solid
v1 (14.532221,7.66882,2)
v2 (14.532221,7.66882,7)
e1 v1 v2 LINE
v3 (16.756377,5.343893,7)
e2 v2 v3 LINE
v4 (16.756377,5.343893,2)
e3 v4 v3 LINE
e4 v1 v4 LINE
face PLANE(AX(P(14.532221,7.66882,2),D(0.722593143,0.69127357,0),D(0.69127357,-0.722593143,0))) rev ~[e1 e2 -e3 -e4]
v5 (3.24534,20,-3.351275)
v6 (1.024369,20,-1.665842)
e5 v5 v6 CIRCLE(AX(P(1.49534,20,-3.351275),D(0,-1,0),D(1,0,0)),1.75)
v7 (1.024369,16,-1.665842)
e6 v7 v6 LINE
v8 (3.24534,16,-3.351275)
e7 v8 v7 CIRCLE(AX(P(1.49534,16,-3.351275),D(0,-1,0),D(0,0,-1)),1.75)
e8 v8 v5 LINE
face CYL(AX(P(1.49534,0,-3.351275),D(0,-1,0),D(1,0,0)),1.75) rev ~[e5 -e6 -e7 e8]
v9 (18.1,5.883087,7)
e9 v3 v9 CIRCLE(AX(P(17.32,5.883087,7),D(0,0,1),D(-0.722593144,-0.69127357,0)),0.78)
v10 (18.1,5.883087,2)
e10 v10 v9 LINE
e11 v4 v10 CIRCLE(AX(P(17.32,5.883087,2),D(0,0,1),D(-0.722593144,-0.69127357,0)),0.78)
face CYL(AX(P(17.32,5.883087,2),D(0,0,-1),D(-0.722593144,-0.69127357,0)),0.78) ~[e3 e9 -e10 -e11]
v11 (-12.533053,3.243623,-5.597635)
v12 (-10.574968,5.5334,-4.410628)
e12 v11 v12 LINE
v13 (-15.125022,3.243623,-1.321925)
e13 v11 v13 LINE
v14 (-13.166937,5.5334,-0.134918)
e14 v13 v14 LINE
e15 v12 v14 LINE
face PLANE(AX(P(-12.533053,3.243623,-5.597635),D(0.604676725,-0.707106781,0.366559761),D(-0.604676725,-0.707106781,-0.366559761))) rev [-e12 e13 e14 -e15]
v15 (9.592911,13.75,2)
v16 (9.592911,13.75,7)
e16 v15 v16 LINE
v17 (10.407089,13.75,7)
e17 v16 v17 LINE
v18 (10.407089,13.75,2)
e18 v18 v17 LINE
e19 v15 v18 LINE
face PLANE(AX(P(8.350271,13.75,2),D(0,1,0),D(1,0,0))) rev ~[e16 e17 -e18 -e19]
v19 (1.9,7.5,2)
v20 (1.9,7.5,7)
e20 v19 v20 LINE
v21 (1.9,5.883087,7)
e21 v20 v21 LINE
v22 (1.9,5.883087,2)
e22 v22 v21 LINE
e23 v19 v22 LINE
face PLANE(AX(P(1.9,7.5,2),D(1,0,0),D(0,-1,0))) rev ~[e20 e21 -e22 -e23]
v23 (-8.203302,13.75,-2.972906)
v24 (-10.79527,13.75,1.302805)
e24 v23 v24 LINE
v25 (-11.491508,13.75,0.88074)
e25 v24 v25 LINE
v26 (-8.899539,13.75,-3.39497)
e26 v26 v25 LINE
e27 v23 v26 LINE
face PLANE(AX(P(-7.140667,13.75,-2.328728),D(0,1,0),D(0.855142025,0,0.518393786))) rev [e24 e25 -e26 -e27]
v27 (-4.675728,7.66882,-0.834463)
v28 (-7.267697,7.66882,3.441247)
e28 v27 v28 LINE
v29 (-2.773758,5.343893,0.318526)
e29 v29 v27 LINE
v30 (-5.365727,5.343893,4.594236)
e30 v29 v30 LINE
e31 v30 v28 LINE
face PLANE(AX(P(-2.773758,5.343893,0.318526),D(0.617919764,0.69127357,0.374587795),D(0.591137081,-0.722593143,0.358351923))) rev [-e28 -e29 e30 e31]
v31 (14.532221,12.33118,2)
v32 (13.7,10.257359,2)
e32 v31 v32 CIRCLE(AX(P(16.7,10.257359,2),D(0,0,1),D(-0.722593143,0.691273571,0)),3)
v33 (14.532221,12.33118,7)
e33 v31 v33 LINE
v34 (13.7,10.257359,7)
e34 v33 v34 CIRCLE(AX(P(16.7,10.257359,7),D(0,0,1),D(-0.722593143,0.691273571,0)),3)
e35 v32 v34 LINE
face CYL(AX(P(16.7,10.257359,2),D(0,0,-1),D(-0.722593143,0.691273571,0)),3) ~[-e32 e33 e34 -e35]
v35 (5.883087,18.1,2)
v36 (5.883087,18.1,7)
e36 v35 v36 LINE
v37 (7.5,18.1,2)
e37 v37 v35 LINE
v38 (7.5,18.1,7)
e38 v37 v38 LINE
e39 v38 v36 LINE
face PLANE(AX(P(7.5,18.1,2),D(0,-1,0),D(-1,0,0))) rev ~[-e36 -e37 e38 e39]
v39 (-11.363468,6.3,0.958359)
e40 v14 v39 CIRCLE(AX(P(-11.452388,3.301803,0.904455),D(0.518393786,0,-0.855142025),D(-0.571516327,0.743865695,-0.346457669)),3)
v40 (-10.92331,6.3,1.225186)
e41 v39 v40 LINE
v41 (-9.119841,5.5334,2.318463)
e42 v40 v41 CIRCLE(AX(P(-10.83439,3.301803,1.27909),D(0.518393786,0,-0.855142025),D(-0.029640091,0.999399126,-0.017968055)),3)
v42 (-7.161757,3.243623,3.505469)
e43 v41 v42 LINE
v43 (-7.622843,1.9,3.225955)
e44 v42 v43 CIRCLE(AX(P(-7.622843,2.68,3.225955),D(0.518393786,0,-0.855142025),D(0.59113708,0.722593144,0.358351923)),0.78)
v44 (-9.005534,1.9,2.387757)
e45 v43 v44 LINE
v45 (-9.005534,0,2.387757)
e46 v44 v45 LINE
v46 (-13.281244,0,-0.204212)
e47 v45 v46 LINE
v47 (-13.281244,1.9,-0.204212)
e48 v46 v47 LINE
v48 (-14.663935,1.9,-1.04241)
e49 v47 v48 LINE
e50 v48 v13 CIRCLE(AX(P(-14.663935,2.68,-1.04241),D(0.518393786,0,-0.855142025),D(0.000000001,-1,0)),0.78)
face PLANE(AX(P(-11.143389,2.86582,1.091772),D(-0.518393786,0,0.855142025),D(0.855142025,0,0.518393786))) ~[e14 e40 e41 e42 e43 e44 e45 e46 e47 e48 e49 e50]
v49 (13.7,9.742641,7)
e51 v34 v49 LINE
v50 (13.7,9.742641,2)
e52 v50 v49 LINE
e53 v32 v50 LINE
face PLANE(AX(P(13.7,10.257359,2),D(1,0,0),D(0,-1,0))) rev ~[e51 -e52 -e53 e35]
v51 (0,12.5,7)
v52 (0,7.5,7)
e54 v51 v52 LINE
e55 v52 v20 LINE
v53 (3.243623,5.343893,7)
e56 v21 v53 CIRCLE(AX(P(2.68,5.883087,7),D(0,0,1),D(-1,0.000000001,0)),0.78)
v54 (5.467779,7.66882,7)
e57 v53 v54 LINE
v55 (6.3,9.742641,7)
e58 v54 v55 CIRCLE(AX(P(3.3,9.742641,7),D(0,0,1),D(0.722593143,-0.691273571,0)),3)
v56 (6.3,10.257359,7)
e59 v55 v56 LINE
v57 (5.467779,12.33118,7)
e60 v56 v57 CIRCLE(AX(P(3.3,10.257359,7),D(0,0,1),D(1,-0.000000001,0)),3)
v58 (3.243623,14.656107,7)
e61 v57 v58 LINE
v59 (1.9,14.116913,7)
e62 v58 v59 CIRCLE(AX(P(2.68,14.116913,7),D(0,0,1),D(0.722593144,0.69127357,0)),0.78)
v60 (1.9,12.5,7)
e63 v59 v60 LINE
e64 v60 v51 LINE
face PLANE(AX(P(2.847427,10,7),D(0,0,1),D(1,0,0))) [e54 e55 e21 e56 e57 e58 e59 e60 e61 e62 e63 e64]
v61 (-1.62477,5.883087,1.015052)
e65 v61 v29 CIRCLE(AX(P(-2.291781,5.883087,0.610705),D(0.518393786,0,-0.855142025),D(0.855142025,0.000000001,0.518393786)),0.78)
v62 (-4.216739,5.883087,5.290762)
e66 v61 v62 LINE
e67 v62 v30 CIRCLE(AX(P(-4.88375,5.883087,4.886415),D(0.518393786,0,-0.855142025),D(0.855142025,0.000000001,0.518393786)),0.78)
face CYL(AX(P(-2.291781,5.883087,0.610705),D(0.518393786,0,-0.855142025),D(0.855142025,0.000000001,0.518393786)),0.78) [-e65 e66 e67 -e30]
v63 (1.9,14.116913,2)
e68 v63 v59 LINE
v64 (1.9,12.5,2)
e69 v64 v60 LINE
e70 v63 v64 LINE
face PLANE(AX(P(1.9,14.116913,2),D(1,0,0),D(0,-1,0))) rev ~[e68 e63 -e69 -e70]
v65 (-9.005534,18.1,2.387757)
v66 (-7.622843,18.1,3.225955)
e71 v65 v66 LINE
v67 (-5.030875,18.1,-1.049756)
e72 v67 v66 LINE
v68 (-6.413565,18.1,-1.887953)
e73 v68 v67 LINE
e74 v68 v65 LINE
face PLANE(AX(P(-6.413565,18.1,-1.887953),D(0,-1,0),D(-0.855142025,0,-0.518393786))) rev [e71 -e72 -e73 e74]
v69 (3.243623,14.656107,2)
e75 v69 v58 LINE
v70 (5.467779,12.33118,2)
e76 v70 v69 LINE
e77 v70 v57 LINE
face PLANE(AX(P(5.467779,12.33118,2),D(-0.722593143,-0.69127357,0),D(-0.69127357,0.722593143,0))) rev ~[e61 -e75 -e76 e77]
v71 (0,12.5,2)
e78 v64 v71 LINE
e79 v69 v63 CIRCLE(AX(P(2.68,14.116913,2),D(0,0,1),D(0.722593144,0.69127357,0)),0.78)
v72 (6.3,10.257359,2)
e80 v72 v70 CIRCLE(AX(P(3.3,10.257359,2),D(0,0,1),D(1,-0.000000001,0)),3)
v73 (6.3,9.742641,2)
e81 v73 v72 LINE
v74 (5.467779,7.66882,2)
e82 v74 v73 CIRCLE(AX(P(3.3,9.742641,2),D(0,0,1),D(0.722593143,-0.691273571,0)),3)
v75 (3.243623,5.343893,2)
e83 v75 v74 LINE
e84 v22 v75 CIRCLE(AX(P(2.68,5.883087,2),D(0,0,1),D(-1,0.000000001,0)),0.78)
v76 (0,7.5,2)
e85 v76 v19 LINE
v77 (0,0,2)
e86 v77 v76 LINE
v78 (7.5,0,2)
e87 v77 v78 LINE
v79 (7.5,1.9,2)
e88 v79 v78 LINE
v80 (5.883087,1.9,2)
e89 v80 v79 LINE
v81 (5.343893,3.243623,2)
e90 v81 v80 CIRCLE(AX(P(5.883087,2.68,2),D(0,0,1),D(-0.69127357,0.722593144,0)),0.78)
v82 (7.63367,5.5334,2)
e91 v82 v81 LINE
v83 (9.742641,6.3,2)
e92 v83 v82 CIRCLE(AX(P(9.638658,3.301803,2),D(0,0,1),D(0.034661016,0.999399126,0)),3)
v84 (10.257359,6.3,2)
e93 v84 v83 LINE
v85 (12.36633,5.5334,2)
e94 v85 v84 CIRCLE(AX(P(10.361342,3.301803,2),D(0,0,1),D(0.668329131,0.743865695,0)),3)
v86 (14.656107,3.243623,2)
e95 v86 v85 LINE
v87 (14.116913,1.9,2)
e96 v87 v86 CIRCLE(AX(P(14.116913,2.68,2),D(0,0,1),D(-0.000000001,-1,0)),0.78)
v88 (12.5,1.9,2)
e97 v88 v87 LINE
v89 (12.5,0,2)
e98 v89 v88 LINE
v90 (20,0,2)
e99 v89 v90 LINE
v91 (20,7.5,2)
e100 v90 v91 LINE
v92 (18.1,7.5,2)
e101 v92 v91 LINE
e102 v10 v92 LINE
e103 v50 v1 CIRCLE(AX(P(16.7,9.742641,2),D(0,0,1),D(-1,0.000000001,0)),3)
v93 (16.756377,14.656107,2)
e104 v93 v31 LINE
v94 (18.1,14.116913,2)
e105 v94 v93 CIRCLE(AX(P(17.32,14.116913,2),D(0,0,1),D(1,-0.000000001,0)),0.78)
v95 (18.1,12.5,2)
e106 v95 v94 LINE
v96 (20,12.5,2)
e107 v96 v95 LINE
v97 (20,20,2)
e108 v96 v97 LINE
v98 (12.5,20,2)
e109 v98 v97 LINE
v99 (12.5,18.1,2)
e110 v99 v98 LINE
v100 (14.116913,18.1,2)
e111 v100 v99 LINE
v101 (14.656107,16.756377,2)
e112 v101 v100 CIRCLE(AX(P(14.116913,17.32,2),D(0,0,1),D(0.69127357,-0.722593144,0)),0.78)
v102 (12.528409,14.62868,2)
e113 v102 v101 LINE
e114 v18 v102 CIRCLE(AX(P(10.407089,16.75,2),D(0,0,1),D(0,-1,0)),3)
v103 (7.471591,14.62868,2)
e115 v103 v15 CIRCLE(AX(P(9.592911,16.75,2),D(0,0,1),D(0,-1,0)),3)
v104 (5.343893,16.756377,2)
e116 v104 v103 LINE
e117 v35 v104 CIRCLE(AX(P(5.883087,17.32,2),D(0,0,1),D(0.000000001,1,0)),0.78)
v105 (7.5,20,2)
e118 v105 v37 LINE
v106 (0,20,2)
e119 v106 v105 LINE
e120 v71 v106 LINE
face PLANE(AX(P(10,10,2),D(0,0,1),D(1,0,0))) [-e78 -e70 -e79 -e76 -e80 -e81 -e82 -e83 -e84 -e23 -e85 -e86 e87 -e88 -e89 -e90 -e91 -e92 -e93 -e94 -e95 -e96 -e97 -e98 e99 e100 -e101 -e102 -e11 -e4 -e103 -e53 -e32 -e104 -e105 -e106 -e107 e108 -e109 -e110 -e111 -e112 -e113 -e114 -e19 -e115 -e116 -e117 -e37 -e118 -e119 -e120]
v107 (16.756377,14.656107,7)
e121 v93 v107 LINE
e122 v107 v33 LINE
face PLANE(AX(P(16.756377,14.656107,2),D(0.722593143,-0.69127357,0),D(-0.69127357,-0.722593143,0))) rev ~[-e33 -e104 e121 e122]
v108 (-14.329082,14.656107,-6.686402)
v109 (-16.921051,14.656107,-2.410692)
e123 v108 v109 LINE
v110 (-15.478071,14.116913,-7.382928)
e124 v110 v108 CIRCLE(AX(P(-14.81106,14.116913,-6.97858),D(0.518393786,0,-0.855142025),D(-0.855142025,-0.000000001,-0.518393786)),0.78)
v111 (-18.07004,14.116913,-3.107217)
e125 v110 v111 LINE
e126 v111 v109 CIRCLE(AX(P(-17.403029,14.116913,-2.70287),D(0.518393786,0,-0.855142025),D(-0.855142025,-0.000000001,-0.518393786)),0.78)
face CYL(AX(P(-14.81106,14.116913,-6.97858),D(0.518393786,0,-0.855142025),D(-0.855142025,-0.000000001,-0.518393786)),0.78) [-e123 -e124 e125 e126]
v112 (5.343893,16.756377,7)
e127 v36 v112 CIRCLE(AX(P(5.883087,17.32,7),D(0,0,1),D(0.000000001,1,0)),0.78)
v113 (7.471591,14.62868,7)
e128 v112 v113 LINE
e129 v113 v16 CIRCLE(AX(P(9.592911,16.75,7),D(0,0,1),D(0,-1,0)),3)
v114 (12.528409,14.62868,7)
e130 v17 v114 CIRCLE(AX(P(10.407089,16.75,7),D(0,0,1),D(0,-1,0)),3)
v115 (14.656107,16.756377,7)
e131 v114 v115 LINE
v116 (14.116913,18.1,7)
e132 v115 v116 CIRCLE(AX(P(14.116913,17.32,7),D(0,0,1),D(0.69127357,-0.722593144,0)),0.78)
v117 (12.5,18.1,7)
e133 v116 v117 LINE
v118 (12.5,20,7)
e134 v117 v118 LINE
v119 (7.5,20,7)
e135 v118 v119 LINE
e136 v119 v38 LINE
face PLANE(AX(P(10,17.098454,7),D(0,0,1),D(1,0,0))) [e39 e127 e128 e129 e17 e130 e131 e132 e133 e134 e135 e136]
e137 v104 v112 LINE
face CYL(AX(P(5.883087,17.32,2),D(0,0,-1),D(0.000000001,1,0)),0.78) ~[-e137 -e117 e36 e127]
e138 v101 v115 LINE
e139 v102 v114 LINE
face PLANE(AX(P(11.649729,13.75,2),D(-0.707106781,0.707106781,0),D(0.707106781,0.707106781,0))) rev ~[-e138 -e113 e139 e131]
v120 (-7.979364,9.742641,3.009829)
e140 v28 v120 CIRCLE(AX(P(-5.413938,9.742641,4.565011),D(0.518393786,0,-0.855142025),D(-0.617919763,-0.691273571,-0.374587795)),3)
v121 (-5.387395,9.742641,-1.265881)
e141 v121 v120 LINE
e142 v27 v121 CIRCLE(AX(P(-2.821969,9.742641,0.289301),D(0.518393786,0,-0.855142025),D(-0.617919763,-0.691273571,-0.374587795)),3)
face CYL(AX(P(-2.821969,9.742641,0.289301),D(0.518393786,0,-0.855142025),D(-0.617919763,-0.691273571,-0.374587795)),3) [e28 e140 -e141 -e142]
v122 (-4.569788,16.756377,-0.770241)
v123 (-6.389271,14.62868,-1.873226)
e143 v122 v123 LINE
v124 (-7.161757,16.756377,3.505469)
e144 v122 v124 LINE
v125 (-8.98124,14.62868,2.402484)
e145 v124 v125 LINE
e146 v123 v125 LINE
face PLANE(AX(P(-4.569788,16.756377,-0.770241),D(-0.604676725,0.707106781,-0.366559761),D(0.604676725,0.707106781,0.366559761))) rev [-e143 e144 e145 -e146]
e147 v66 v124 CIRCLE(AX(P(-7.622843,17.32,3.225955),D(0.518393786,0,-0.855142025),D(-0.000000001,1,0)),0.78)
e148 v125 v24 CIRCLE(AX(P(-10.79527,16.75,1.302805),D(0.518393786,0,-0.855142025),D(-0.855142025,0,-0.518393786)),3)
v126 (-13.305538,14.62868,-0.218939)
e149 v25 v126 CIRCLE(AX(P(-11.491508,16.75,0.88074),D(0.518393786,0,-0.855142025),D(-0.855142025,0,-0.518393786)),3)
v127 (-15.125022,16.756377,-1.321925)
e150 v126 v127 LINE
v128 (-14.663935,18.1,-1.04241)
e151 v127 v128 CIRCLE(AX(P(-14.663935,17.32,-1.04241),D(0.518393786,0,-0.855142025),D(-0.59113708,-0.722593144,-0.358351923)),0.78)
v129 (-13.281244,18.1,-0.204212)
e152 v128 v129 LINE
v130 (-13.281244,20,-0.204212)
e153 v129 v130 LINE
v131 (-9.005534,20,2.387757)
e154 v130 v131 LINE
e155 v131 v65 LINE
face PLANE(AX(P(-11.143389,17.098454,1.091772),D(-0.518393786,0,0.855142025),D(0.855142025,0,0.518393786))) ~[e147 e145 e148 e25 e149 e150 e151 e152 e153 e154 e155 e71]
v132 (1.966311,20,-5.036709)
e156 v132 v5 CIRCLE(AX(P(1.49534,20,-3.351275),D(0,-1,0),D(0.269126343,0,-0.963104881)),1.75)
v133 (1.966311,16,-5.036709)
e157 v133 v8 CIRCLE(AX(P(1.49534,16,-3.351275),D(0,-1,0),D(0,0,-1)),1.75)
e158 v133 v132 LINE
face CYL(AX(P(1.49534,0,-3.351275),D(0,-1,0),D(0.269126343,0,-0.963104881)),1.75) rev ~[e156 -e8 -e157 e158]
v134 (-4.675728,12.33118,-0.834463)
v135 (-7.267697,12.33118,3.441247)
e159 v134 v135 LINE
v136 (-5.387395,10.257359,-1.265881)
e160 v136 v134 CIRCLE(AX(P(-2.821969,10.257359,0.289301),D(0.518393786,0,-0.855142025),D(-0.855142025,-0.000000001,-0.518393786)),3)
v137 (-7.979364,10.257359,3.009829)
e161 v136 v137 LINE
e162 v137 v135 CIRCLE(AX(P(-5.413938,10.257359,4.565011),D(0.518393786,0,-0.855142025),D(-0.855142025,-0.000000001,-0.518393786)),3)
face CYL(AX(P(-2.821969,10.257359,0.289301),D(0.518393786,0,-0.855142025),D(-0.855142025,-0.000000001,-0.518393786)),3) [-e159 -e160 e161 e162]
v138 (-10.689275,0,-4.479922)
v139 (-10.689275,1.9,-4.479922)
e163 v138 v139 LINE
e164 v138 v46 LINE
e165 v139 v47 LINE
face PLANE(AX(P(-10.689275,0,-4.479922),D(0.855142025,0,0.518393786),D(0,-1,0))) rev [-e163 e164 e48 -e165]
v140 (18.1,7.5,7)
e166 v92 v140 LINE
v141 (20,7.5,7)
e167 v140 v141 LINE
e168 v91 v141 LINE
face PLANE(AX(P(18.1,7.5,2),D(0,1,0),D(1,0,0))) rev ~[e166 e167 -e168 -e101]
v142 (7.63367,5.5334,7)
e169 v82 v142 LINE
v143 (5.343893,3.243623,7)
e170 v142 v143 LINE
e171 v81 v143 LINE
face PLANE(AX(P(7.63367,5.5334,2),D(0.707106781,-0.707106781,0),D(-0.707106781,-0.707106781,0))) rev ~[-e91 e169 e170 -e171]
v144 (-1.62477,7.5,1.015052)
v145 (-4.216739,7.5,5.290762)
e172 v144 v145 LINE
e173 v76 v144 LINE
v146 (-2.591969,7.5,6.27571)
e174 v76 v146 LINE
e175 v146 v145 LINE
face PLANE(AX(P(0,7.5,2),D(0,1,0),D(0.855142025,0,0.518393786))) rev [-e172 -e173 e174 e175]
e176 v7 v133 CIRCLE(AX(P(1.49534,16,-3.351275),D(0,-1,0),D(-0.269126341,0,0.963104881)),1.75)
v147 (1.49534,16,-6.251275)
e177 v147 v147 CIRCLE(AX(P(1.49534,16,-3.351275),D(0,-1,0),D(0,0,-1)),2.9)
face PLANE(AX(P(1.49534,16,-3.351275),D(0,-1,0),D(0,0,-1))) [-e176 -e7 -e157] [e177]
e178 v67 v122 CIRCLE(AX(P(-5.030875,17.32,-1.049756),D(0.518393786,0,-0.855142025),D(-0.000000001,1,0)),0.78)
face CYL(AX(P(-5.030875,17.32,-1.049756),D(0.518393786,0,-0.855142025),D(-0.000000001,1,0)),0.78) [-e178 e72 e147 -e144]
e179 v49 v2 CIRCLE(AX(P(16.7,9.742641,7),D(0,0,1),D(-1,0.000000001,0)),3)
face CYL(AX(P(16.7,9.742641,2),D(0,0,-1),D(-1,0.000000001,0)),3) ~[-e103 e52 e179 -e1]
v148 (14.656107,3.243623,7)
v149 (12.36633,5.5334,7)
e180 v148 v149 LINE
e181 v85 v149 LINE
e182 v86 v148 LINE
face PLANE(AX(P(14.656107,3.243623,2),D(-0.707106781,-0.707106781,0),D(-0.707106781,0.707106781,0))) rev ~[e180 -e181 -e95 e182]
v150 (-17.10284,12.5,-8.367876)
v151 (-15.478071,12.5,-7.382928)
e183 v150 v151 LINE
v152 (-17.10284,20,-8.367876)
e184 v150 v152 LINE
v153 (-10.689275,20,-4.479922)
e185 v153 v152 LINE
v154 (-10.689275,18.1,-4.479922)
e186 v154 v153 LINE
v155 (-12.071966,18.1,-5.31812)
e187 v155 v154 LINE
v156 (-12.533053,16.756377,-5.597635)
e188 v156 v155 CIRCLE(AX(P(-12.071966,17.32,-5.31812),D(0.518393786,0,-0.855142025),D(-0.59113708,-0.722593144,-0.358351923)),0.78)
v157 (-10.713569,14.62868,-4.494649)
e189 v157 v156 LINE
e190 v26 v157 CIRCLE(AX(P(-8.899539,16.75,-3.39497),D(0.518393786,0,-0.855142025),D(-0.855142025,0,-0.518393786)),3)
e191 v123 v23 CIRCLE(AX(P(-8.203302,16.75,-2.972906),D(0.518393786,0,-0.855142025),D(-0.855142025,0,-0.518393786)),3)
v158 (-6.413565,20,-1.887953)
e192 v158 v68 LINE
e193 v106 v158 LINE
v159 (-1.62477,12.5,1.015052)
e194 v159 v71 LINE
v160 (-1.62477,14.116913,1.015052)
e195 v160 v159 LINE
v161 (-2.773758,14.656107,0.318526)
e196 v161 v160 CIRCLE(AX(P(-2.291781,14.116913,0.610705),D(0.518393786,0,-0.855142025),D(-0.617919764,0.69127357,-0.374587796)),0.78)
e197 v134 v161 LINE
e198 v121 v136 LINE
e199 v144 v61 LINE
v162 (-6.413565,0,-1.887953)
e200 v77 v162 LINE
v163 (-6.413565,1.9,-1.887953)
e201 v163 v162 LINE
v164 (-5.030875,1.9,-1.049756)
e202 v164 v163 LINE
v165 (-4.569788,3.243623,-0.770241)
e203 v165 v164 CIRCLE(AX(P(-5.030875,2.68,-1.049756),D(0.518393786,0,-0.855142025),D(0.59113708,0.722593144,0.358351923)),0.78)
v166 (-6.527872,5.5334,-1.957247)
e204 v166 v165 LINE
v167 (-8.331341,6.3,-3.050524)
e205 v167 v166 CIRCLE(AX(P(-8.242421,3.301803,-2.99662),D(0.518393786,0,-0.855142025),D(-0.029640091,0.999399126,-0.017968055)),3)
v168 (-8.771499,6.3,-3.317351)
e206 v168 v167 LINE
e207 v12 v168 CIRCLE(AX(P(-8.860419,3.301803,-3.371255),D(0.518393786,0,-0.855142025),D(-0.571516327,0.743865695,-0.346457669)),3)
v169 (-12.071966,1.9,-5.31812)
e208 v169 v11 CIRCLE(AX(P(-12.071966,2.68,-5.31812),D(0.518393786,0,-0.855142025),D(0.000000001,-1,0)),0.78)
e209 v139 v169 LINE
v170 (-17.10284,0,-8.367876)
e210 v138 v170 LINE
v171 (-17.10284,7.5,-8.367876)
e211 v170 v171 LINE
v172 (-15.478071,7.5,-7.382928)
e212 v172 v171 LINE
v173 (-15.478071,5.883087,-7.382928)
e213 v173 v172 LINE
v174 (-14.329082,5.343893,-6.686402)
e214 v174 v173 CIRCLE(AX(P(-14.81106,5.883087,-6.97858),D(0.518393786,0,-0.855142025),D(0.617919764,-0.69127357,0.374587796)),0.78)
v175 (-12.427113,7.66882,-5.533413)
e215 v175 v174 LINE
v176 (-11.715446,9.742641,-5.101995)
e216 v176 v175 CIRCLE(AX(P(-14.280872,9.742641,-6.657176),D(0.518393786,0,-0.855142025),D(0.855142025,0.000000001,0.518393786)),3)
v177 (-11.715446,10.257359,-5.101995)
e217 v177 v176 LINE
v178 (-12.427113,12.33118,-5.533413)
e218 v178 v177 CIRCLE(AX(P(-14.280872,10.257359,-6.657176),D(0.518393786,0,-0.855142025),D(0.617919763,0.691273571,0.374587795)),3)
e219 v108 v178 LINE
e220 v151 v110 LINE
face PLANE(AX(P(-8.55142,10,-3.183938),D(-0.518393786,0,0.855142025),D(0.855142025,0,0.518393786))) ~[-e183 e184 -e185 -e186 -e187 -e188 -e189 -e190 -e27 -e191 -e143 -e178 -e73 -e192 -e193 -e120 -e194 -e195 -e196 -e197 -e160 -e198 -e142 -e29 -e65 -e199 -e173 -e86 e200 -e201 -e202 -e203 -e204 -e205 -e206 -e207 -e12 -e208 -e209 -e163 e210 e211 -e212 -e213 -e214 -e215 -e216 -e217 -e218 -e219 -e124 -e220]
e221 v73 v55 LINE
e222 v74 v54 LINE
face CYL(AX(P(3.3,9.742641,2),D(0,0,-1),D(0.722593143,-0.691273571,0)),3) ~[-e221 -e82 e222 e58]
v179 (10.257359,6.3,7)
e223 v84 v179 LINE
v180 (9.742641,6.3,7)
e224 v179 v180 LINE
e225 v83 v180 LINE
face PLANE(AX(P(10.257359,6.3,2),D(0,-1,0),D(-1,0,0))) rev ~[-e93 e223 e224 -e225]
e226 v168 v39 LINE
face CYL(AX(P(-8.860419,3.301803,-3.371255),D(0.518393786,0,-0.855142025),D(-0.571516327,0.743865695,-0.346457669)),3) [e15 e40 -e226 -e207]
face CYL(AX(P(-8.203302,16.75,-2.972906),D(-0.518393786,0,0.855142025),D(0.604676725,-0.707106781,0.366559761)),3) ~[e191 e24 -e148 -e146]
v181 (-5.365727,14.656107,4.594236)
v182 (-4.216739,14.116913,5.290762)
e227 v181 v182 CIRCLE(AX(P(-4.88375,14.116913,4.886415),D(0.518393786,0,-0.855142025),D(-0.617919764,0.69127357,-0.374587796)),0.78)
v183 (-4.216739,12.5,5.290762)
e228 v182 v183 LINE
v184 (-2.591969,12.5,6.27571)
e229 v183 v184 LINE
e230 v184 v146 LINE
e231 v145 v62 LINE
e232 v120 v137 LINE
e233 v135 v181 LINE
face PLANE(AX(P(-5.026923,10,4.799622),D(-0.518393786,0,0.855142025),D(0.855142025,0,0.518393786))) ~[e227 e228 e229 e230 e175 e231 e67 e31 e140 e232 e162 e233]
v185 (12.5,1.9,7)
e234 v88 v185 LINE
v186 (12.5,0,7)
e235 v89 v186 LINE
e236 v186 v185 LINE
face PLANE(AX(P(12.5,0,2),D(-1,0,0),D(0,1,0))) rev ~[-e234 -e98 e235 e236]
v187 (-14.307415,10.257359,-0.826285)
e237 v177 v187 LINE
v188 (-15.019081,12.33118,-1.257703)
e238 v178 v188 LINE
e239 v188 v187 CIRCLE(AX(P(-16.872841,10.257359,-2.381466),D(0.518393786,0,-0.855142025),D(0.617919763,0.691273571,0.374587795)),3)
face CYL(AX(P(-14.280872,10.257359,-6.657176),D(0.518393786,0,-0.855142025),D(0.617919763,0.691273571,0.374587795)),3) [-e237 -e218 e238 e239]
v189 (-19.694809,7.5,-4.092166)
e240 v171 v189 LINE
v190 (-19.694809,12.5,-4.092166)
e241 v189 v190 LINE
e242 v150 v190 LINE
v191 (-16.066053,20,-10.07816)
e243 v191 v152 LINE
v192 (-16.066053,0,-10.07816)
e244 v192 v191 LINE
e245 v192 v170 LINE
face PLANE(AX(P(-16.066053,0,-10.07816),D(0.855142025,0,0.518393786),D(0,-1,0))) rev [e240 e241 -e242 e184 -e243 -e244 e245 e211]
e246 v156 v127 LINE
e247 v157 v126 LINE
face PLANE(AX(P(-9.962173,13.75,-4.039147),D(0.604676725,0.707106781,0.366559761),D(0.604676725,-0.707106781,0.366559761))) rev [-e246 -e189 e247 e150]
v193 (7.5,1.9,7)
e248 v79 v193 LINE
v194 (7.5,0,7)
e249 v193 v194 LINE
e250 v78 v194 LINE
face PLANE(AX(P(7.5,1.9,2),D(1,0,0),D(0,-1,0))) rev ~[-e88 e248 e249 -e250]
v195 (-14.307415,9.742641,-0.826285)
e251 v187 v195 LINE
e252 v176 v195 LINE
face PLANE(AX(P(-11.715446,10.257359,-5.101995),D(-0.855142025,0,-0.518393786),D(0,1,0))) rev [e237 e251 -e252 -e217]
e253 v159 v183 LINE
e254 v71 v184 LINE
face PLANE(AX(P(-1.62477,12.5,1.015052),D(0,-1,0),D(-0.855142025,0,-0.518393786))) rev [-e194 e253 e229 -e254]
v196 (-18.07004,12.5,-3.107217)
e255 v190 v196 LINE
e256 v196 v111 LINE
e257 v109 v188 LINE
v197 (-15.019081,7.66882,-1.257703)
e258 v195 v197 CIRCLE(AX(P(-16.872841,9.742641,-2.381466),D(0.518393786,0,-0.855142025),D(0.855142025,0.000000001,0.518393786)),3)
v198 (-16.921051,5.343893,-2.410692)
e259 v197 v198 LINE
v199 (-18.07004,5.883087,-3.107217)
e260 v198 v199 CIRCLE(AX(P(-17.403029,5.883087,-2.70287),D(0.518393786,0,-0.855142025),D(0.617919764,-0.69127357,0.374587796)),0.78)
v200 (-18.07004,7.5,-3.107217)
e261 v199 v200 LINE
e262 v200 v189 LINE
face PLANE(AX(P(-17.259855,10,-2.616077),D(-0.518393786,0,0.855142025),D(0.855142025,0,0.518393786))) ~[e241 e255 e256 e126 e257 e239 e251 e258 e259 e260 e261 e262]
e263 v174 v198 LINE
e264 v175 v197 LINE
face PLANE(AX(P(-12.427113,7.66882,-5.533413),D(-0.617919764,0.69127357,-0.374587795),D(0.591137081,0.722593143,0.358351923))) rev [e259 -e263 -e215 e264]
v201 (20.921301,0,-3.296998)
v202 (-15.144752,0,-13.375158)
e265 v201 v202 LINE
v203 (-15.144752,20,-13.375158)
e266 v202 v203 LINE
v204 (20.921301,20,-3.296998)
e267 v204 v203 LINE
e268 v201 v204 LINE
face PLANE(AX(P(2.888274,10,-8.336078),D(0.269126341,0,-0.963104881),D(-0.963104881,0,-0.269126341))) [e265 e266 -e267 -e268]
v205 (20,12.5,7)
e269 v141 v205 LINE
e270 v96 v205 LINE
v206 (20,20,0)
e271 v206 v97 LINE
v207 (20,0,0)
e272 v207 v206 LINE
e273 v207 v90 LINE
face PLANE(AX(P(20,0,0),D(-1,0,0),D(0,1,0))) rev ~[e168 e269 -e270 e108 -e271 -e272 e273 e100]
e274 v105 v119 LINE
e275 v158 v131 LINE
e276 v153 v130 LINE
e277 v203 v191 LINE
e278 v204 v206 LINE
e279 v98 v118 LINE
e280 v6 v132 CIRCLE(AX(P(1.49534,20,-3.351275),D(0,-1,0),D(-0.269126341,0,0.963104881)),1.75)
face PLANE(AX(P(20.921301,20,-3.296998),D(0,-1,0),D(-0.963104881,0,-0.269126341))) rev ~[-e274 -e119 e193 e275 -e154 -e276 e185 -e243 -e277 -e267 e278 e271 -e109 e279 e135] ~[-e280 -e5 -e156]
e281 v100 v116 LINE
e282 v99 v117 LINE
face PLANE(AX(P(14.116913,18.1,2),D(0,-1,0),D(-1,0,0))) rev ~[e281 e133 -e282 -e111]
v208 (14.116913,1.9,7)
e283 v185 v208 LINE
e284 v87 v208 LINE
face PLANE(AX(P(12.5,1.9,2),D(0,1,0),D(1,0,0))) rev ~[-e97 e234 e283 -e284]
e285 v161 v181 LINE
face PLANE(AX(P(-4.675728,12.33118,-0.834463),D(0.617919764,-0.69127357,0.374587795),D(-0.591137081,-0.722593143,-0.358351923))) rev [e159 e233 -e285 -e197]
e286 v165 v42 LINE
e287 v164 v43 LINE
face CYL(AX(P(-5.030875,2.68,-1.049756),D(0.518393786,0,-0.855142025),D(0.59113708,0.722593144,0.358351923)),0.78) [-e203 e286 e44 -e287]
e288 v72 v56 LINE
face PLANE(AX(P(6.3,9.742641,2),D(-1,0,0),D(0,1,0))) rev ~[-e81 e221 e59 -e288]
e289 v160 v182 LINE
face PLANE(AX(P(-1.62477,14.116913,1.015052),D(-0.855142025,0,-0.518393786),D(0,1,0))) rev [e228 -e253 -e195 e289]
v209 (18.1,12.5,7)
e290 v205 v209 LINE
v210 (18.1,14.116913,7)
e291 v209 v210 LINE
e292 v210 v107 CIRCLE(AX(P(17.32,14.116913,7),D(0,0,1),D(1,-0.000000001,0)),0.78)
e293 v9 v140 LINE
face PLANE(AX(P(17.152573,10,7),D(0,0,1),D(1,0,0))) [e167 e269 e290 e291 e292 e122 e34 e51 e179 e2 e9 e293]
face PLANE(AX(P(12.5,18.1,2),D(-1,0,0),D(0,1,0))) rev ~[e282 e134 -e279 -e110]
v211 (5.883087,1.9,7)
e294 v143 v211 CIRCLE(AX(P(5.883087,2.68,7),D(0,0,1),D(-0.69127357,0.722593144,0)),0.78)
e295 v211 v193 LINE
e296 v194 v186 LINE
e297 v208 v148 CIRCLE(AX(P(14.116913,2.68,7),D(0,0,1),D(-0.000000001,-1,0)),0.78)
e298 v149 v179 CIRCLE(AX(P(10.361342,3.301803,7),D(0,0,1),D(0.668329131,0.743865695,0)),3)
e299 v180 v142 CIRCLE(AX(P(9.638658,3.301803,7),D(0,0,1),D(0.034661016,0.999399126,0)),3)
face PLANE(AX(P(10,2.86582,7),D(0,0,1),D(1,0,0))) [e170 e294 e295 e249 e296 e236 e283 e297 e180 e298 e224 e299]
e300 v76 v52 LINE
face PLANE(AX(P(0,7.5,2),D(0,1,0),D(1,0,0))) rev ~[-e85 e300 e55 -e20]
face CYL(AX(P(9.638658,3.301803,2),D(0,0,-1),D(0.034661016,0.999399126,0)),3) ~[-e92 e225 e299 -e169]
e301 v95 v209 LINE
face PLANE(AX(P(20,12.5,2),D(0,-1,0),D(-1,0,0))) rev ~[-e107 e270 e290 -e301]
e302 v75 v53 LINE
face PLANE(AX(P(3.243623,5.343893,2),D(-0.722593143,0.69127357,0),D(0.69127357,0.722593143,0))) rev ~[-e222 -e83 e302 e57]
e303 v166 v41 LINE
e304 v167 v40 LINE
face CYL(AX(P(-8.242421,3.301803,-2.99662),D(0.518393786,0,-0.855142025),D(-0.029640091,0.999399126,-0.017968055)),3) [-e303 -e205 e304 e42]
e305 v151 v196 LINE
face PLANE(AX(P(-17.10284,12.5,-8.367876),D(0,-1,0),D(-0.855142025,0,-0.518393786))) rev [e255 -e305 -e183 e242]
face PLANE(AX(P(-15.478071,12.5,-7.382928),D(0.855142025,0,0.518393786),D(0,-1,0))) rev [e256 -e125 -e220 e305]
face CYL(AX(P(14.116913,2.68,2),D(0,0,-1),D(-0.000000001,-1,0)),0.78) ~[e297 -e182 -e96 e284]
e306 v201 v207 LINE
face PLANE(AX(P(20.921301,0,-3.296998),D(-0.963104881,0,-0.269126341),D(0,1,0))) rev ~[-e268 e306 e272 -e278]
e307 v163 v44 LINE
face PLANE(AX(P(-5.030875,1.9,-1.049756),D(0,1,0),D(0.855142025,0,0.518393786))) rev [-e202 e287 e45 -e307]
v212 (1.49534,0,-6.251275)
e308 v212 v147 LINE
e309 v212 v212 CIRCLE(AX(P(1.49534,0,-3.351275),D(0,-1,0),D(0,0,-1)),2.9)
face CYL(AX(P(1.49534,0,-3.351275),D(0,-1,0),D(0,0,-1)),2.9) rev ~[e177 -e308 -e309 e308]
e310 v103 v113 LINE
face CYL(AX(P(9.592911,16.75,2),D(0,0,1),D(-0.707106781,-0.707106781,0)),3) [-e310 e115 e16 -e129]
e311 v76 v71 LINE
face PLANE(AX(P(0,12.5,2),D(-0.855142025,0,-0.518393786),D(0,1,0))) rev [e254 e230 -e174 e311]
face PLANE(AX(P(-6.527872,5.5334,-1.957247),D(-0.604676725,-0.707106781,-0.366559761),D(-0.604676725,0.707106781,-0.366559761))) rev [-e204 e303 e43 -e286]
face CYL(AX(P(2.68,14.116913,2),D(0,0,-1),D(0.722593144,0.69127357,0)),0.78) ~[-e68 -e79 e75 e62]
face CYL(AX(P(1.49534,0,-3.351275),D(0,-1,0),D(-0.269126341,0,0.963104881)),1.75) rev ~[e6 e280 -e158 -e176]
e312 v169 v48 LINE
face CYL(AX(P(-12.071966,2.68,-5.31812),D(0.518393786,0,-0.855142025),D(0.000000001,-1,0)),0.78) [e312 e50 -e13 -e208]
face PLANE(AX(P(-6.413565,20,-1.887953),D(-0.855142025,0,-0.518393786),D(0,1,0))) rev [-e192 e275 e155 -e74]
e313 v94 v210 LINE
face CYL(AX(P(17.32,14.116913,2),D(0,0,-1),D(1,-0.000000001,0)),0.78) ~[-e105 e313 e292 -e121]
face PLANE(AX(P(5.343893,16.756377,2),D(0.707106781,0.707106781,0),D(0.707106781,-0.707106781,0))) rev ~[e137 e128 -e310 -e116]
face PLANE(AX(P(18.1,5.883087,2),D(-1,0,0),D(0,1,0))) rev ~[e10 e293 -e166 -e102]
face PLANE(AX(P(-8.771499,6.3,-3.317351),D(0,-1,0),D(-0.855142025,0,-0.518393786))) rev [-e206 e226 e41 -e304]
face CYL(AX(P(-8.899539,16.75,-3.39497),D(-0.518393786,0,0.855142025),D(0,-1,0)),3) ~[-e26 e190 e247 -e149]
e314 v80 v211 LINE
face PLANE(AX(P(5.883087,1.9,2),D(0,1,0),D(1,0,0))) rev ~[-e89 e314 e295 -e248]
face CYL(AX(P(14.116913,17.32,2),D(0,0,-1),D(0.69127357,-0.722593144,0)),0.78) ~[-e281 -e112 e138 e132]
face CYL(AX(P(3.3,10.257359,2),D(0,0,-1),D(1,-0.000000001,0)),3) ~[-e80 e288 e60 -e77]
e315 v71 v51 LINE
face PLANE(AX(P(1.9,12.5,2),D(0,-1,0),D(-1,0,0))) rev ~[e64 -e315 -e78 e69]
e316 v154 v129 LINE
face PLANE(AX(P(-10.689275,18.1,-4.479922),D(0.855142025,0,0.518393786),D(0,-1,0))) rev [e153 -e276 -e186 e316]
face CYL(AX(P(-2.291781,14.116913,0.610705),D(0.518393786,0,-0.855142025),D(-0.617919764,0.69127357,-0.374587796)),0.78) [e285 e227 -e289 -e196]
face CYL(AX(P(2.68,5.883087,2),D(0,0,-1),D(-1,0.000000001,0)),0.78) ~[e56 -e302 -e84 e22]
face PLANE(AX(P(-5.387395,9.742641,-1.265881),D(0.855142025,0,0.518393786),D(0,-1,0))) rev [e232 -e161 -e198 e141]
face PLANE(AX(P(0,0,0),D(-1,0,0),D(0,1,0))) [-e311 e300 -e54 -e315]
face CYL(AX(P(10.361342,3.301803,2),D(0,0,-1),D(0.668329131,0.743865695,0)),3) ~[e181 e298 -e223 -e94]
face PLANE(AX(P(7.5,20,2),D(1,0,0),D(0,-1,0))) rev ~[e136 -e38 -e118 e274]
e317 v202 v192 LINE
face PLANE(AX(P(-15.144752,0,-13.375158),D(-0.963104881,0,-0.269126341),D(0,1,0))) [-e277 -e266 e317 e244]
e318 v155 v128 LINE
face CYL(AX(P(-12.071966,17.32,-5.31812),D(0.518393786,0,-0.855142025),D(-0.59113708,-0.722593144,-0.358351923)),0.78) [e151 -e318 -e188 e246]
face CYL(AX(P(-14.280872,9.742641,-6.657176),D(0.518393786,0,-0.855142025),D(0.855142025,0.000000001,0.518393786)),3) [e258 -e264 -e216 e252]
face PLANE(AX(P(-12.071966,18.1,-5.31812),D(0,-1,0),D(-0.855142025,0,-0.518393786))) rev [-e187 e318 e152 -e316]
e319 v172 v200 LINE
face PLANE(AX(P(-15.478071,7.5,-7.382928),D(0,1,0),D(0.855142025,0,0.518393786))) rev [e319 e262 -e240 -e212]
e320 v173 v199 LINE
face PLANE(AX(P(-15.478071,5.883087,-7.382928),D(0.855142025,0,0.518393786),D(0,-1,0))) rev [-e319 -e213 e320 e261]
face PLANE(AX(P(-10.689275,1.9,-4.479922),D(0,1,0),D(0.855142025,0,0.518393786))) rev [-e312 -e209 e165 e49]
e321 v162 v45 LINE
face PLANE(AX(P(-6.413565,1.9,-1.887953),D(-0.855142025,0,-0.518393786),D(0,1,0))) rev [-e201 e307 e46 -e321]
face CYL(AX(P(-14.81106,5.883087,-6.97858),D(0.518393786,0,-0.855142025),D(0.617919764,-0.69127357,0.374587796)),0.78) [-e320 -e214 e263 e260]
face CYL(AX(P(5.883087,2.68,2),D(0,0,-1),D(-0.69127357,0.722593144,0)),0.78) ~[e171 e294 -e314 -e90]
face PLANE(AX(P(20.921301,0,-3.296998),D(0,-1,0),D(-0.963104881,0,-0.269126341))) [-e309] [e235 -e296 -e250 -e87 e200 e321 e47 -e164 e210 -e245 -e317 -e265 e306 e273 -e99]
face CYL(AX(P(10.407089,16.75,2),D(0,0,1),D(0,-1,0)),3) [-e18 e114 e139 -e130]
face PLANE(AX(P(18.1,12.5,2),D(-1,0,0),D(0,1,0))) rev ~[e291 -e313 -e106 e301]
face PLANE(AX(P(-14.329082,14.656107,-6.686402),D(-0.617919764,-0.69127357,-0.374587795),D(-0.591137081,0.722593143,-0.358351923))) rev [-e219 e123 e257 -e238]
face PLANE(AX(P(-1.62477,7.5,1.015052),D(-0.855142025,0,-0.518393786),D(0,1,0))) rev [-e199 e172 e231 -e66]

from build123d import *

# Parameters (mm, degrees)
SKIZZE1_W                       = 20
SKIZZE1_H                       = 20
AUFSATZ_LINEAR_AUSTRAGEN1_DEPTH = 2
AUFSATZ_LINEAR_AUSTRAGEN3_DEPTH = 5
VERRUNDUNG1_R                   = 3
VERRUNDUNG1_OF_SPIEGELN1_R      = 3
AUFSATZ_LINEAR_AUSTRAGEN4_REACH = 35.564
SKIZZE3_W                       = 37.447689889
SKIZZE3_H                       = 20
SCHNITT_LINEAR_AUSTRAGEN1_DEPTH = 32.884097459
SKIZZE4_3_R                     = 2.9
SKIZZE4_3_R_2                   = 1.75
SCHNITT_LINEAR_AUSTRAGEN2_DEPTH = 16


with BuildPart() as part:
    # Skizze1 → Aufsatz-Linear austragen1 (new body)
    with BuildSketch(Plane.XY):
        with Locations((10, 10)):
            Rectangle(SKIZZE1_W, SKIZZE1_H)
    aufsatz_linear_austragen1 = extrude(amount=AUFSATZ_LINEAR_AUSTRAGEN1_DEPTH)

    # Skizze2 → Aufsatz-Linear austragen3 (add)
    with BuildSketch(Plane.XY.offset(2)):
        with BuildLine():
            Line((12.5, 18.1), (12.5, 20))
            Line((12.5, 20), (7.5, 20))
            Line((7.5, 20), (7.5, 18.1))
            Line((7.5, 18.1), (5.883086579, 18.1))
            ThreePointArc((5.883086579, 18.1), (5.159199271, 17.610494692), (5.343893194, 16.756377348))
            Line((5.343893194, 16.756377348), (8.350270542, 13.75))
            Line((8.350270542, 13.75), (11.649729458, 13.75))
            Line((11.649729458, 13.75), (14.656106806, 16.756377348))
            ThreePointArc((14.656106806, 16.756377348), (14.840800729, 17.610494692), (14.116913421, 18.1))
            Line((14.116913421, 18.1), (12.5, 18.1))
        make_face()
        with BuildLine():
            Line((1.9, 12.5), (0, 12.5))
            Line((0, 12.5), (0, 7.5))
            Line((0, 7.5), (1.9, 7.5))
            Line((1.9, 7.5), (1.9, 5.883086579))
            ThreePointArc((1.9, 5.883086579), (2.389505308, 5.159199271), (3.243622652, 5.343893194))
            Line((3.243622652, 5.343893194), (5.46777943, 7.668819976))
            ThreePointArc((5.46777943, 7.668819976), (6.084181953, 8.625353412), (6.3, 9.742640687))
            Line((6.3, 9.742640687), (6.3, 10.257359313))
            ThreePointArc((6.3, 10.257359313), (6.084181953, 11.374646588), (5.46777943, 12.331180024))
            Line((5.46777943, 12.331180024), (3.243622652, 14.656106806))
            ThreePointArc((3.243622652, 14.656106806), (2.389505308, 14.840800729), (1.9, 14.116913421))
            Line((1.9, 14.116913421), (1.9, 12.5))
        make_face()
        with BuildLine():
            Line((7.5, 0), (12.5, 0))
            Line((12.5, 0), (12.5, 1.9))
            Line((12.5, 1.9), (14.116913421, 1.9))
            ThreePointArc((14.116913421, 1.9), (14.840800729, 2.389505308), (14.656106806, 3.243622652))
            Line((14.656106806, 3.243622652), (12.366329752, 5.533399706))
            ThreePointArc((12.366329752, 5.533399706), (11.386219612, 6.121310843), (10.257359313, 6.3))
            Line((10.257359313, 6.3), (9.742640687, 6.3))
            ThreePointArc((9.742640687, 6.3), (8.613780388, 6.121310843), (7.633670248, 5.533399706))
            Line((7.633670248, 5.533399706), (5.343893194, 3.243622652))
            ThreePointArc((5.343893194, 3.243622652), (5.159199271, 2.389505308), (5.883086579, 1.9))
            Line((5.883086579, 1.9), (7.5, 1.9))
            Line((7.5, 1.9), (7.5, 0))
        make_face()
        with BuildLine():
            Line((20, 7.5), (20, 12.5))
            Line((20, 12.5), (18.1, 12.5))
            Line((18.1, 12.5), (18.1, 14.116913421))
            ThreePointArc((18.1, 14.116913421), (17.610494692, 14.840800729), (16.756377348, 14.656106806))
            Line((16.756377348, 14.656106806), (14.53222057, 12.331180024))
            ThreePointArc((14.53222057, 12.331180024), (13.915818047, 11.374646588), (13.7, 10.257359313))
            Line((13.7, 10.257359313), (13.7, 9.742640687))
            ThreePointArc((13.7, 9.742640687), (13.915818047, 8.625353412), (14.53222057, 7.668819976))
            Line((14.53222057, 7.668819976), (16.756377348, 5.343893194))
            ThreePointArc((16.756377348, 5.343893194), (17.610494692, 5.159199271), (18.1, 5.883086579))
            Line((18.1, 5.883086579), (18.1, 7.5))
            Line((18.1, 7.5), (20, 7.5))
        make_face()
    aufsatz_linear_austragen3 = extrude(amount=AUFSATZ_LINEAR_AUSTRAGEN3_DEPTH)

    # Verrundung1
    verrundung1_edges = [part.edges().sort_by_distance(p)[0] for p in [
        (8.350270542, 13.75, 4.5),
        (11.649729458, 13.75, 4.5),
    ]]
    fillet(verrundung1_edges, radius=VERRUNDUNG1_R)

    # Spiegeln1: Aufsatz-Linear austragen1, Aufsatz-Linear austragen3 across plane
    add(aufsatz_linear_austragen1.mirror(Plane(origin=(0.518393786, 0, 0.144857975), x_dir=(-0.2691263412444344, 0, 0.963104881333484), z_dir=(-0.9631048813334839, 0, -0.2691263412444344))))
    add(aufsatz_linear_austragen3.mirror(Plane(origin=(0.518393786, 0, 0.144857975), x_dir=(-0.2691263412444344, 0, 0.963104881333484), z_dir=(-0.9631048813334839, 0, -0.2691263412444344))))

    # Verrundung1 of Spiegeln1
    verrundung1_of_spiegeln1_edges = [part.edges().sort_by_distance(p)[0] for p in [
        (-8.436651724, 13.75, -0.190873297),
        (-11.258157703, 13.75, -1.901292296),
    ]]
    fillet(verrundung1_of_spiegeln1_edges, radius=VERRUNDUNG1_OF_SPIEGELN1_R)

    # Skizze3 → Aufsatz-Linear austragen4 (add, up to next)
    with BuildSketch(Plane(origin=(2.36988033, 0, -8.480936141), x_dir=(-0.963104881333484, 0, -0.26912634124443463), z_dir=(0.26912634124443463, 0, -0.963104881333484)), mode=Mode.PRIVATE) as aufsatz_linear_austragen4_sk1:
        with Locations((-0.538252683, 10)):
            Rectangle(SKIZZE3_W, SKIZZE3_H)
    aufsatz_linear_austragen4_tool1 = extrude(aufsatz_linear_austragen4_sk1.sketch, amount=-AUFSATZ_LINEAR_AUSTRAGEN4_REACH, mode=Mode.PRIVATE) - part.part
    add(aufsatz_linear_austragen4_tool1.solids().sort_by_distance((2.888274, 10, -8.336078))[0])

    # Skizze4 → Schnitt-Linear austragen1 (cut, through all)
    with BuildSketch(Plane.XZ):
        with BuildLine():
            ThreePointArc((3.245339923, -3.351275437), (2.553238921, -1.957234652), (1.024368826, -1.665841895))
            Line((1.024368826, -1.665841895), (1.966311021, -5.03670898))
            ThreePointArc((1.966311021, -5.03670898), (2.889380708, -4.409174435), (3.245339923, -3.351275437))
        make_face()
        with BuildLine():
            Line((1.966311021, -5.03670898), (1.024368826, -1.665841895))
            ThreePointArc((1.024368826, -1.665841895), (-0.190093619, -3.822246535), (1.966311021, -5.03670898))
        make_face()
    extrude(amount=-SCHNITT_LINEAR_AUSTRAGEN1_DEPTH, mode=Mode.SUBTRACT)

    # Skizze4<3> → Schnitt-Linear austragen2 (cut)
    with BuildSketch(Plane.XZ):
        with Locations(Location((1.495339923, -3.351275437, 0), (0, 0, 270))):
            Circle(SKIZZE4_3_R)
        with Locations(Location((1.495339923, -3.351275437, 0), (0, 0, 270))):
            Circle(SKIZZE4_3_R_2, mode=Mode.SUBTRACT)
    extrude(amount=-SCHNITT_LINEAR_AUSTRAGEN2_DEPTH, mode=Mode.SUBTRACT)


solid = part.part
